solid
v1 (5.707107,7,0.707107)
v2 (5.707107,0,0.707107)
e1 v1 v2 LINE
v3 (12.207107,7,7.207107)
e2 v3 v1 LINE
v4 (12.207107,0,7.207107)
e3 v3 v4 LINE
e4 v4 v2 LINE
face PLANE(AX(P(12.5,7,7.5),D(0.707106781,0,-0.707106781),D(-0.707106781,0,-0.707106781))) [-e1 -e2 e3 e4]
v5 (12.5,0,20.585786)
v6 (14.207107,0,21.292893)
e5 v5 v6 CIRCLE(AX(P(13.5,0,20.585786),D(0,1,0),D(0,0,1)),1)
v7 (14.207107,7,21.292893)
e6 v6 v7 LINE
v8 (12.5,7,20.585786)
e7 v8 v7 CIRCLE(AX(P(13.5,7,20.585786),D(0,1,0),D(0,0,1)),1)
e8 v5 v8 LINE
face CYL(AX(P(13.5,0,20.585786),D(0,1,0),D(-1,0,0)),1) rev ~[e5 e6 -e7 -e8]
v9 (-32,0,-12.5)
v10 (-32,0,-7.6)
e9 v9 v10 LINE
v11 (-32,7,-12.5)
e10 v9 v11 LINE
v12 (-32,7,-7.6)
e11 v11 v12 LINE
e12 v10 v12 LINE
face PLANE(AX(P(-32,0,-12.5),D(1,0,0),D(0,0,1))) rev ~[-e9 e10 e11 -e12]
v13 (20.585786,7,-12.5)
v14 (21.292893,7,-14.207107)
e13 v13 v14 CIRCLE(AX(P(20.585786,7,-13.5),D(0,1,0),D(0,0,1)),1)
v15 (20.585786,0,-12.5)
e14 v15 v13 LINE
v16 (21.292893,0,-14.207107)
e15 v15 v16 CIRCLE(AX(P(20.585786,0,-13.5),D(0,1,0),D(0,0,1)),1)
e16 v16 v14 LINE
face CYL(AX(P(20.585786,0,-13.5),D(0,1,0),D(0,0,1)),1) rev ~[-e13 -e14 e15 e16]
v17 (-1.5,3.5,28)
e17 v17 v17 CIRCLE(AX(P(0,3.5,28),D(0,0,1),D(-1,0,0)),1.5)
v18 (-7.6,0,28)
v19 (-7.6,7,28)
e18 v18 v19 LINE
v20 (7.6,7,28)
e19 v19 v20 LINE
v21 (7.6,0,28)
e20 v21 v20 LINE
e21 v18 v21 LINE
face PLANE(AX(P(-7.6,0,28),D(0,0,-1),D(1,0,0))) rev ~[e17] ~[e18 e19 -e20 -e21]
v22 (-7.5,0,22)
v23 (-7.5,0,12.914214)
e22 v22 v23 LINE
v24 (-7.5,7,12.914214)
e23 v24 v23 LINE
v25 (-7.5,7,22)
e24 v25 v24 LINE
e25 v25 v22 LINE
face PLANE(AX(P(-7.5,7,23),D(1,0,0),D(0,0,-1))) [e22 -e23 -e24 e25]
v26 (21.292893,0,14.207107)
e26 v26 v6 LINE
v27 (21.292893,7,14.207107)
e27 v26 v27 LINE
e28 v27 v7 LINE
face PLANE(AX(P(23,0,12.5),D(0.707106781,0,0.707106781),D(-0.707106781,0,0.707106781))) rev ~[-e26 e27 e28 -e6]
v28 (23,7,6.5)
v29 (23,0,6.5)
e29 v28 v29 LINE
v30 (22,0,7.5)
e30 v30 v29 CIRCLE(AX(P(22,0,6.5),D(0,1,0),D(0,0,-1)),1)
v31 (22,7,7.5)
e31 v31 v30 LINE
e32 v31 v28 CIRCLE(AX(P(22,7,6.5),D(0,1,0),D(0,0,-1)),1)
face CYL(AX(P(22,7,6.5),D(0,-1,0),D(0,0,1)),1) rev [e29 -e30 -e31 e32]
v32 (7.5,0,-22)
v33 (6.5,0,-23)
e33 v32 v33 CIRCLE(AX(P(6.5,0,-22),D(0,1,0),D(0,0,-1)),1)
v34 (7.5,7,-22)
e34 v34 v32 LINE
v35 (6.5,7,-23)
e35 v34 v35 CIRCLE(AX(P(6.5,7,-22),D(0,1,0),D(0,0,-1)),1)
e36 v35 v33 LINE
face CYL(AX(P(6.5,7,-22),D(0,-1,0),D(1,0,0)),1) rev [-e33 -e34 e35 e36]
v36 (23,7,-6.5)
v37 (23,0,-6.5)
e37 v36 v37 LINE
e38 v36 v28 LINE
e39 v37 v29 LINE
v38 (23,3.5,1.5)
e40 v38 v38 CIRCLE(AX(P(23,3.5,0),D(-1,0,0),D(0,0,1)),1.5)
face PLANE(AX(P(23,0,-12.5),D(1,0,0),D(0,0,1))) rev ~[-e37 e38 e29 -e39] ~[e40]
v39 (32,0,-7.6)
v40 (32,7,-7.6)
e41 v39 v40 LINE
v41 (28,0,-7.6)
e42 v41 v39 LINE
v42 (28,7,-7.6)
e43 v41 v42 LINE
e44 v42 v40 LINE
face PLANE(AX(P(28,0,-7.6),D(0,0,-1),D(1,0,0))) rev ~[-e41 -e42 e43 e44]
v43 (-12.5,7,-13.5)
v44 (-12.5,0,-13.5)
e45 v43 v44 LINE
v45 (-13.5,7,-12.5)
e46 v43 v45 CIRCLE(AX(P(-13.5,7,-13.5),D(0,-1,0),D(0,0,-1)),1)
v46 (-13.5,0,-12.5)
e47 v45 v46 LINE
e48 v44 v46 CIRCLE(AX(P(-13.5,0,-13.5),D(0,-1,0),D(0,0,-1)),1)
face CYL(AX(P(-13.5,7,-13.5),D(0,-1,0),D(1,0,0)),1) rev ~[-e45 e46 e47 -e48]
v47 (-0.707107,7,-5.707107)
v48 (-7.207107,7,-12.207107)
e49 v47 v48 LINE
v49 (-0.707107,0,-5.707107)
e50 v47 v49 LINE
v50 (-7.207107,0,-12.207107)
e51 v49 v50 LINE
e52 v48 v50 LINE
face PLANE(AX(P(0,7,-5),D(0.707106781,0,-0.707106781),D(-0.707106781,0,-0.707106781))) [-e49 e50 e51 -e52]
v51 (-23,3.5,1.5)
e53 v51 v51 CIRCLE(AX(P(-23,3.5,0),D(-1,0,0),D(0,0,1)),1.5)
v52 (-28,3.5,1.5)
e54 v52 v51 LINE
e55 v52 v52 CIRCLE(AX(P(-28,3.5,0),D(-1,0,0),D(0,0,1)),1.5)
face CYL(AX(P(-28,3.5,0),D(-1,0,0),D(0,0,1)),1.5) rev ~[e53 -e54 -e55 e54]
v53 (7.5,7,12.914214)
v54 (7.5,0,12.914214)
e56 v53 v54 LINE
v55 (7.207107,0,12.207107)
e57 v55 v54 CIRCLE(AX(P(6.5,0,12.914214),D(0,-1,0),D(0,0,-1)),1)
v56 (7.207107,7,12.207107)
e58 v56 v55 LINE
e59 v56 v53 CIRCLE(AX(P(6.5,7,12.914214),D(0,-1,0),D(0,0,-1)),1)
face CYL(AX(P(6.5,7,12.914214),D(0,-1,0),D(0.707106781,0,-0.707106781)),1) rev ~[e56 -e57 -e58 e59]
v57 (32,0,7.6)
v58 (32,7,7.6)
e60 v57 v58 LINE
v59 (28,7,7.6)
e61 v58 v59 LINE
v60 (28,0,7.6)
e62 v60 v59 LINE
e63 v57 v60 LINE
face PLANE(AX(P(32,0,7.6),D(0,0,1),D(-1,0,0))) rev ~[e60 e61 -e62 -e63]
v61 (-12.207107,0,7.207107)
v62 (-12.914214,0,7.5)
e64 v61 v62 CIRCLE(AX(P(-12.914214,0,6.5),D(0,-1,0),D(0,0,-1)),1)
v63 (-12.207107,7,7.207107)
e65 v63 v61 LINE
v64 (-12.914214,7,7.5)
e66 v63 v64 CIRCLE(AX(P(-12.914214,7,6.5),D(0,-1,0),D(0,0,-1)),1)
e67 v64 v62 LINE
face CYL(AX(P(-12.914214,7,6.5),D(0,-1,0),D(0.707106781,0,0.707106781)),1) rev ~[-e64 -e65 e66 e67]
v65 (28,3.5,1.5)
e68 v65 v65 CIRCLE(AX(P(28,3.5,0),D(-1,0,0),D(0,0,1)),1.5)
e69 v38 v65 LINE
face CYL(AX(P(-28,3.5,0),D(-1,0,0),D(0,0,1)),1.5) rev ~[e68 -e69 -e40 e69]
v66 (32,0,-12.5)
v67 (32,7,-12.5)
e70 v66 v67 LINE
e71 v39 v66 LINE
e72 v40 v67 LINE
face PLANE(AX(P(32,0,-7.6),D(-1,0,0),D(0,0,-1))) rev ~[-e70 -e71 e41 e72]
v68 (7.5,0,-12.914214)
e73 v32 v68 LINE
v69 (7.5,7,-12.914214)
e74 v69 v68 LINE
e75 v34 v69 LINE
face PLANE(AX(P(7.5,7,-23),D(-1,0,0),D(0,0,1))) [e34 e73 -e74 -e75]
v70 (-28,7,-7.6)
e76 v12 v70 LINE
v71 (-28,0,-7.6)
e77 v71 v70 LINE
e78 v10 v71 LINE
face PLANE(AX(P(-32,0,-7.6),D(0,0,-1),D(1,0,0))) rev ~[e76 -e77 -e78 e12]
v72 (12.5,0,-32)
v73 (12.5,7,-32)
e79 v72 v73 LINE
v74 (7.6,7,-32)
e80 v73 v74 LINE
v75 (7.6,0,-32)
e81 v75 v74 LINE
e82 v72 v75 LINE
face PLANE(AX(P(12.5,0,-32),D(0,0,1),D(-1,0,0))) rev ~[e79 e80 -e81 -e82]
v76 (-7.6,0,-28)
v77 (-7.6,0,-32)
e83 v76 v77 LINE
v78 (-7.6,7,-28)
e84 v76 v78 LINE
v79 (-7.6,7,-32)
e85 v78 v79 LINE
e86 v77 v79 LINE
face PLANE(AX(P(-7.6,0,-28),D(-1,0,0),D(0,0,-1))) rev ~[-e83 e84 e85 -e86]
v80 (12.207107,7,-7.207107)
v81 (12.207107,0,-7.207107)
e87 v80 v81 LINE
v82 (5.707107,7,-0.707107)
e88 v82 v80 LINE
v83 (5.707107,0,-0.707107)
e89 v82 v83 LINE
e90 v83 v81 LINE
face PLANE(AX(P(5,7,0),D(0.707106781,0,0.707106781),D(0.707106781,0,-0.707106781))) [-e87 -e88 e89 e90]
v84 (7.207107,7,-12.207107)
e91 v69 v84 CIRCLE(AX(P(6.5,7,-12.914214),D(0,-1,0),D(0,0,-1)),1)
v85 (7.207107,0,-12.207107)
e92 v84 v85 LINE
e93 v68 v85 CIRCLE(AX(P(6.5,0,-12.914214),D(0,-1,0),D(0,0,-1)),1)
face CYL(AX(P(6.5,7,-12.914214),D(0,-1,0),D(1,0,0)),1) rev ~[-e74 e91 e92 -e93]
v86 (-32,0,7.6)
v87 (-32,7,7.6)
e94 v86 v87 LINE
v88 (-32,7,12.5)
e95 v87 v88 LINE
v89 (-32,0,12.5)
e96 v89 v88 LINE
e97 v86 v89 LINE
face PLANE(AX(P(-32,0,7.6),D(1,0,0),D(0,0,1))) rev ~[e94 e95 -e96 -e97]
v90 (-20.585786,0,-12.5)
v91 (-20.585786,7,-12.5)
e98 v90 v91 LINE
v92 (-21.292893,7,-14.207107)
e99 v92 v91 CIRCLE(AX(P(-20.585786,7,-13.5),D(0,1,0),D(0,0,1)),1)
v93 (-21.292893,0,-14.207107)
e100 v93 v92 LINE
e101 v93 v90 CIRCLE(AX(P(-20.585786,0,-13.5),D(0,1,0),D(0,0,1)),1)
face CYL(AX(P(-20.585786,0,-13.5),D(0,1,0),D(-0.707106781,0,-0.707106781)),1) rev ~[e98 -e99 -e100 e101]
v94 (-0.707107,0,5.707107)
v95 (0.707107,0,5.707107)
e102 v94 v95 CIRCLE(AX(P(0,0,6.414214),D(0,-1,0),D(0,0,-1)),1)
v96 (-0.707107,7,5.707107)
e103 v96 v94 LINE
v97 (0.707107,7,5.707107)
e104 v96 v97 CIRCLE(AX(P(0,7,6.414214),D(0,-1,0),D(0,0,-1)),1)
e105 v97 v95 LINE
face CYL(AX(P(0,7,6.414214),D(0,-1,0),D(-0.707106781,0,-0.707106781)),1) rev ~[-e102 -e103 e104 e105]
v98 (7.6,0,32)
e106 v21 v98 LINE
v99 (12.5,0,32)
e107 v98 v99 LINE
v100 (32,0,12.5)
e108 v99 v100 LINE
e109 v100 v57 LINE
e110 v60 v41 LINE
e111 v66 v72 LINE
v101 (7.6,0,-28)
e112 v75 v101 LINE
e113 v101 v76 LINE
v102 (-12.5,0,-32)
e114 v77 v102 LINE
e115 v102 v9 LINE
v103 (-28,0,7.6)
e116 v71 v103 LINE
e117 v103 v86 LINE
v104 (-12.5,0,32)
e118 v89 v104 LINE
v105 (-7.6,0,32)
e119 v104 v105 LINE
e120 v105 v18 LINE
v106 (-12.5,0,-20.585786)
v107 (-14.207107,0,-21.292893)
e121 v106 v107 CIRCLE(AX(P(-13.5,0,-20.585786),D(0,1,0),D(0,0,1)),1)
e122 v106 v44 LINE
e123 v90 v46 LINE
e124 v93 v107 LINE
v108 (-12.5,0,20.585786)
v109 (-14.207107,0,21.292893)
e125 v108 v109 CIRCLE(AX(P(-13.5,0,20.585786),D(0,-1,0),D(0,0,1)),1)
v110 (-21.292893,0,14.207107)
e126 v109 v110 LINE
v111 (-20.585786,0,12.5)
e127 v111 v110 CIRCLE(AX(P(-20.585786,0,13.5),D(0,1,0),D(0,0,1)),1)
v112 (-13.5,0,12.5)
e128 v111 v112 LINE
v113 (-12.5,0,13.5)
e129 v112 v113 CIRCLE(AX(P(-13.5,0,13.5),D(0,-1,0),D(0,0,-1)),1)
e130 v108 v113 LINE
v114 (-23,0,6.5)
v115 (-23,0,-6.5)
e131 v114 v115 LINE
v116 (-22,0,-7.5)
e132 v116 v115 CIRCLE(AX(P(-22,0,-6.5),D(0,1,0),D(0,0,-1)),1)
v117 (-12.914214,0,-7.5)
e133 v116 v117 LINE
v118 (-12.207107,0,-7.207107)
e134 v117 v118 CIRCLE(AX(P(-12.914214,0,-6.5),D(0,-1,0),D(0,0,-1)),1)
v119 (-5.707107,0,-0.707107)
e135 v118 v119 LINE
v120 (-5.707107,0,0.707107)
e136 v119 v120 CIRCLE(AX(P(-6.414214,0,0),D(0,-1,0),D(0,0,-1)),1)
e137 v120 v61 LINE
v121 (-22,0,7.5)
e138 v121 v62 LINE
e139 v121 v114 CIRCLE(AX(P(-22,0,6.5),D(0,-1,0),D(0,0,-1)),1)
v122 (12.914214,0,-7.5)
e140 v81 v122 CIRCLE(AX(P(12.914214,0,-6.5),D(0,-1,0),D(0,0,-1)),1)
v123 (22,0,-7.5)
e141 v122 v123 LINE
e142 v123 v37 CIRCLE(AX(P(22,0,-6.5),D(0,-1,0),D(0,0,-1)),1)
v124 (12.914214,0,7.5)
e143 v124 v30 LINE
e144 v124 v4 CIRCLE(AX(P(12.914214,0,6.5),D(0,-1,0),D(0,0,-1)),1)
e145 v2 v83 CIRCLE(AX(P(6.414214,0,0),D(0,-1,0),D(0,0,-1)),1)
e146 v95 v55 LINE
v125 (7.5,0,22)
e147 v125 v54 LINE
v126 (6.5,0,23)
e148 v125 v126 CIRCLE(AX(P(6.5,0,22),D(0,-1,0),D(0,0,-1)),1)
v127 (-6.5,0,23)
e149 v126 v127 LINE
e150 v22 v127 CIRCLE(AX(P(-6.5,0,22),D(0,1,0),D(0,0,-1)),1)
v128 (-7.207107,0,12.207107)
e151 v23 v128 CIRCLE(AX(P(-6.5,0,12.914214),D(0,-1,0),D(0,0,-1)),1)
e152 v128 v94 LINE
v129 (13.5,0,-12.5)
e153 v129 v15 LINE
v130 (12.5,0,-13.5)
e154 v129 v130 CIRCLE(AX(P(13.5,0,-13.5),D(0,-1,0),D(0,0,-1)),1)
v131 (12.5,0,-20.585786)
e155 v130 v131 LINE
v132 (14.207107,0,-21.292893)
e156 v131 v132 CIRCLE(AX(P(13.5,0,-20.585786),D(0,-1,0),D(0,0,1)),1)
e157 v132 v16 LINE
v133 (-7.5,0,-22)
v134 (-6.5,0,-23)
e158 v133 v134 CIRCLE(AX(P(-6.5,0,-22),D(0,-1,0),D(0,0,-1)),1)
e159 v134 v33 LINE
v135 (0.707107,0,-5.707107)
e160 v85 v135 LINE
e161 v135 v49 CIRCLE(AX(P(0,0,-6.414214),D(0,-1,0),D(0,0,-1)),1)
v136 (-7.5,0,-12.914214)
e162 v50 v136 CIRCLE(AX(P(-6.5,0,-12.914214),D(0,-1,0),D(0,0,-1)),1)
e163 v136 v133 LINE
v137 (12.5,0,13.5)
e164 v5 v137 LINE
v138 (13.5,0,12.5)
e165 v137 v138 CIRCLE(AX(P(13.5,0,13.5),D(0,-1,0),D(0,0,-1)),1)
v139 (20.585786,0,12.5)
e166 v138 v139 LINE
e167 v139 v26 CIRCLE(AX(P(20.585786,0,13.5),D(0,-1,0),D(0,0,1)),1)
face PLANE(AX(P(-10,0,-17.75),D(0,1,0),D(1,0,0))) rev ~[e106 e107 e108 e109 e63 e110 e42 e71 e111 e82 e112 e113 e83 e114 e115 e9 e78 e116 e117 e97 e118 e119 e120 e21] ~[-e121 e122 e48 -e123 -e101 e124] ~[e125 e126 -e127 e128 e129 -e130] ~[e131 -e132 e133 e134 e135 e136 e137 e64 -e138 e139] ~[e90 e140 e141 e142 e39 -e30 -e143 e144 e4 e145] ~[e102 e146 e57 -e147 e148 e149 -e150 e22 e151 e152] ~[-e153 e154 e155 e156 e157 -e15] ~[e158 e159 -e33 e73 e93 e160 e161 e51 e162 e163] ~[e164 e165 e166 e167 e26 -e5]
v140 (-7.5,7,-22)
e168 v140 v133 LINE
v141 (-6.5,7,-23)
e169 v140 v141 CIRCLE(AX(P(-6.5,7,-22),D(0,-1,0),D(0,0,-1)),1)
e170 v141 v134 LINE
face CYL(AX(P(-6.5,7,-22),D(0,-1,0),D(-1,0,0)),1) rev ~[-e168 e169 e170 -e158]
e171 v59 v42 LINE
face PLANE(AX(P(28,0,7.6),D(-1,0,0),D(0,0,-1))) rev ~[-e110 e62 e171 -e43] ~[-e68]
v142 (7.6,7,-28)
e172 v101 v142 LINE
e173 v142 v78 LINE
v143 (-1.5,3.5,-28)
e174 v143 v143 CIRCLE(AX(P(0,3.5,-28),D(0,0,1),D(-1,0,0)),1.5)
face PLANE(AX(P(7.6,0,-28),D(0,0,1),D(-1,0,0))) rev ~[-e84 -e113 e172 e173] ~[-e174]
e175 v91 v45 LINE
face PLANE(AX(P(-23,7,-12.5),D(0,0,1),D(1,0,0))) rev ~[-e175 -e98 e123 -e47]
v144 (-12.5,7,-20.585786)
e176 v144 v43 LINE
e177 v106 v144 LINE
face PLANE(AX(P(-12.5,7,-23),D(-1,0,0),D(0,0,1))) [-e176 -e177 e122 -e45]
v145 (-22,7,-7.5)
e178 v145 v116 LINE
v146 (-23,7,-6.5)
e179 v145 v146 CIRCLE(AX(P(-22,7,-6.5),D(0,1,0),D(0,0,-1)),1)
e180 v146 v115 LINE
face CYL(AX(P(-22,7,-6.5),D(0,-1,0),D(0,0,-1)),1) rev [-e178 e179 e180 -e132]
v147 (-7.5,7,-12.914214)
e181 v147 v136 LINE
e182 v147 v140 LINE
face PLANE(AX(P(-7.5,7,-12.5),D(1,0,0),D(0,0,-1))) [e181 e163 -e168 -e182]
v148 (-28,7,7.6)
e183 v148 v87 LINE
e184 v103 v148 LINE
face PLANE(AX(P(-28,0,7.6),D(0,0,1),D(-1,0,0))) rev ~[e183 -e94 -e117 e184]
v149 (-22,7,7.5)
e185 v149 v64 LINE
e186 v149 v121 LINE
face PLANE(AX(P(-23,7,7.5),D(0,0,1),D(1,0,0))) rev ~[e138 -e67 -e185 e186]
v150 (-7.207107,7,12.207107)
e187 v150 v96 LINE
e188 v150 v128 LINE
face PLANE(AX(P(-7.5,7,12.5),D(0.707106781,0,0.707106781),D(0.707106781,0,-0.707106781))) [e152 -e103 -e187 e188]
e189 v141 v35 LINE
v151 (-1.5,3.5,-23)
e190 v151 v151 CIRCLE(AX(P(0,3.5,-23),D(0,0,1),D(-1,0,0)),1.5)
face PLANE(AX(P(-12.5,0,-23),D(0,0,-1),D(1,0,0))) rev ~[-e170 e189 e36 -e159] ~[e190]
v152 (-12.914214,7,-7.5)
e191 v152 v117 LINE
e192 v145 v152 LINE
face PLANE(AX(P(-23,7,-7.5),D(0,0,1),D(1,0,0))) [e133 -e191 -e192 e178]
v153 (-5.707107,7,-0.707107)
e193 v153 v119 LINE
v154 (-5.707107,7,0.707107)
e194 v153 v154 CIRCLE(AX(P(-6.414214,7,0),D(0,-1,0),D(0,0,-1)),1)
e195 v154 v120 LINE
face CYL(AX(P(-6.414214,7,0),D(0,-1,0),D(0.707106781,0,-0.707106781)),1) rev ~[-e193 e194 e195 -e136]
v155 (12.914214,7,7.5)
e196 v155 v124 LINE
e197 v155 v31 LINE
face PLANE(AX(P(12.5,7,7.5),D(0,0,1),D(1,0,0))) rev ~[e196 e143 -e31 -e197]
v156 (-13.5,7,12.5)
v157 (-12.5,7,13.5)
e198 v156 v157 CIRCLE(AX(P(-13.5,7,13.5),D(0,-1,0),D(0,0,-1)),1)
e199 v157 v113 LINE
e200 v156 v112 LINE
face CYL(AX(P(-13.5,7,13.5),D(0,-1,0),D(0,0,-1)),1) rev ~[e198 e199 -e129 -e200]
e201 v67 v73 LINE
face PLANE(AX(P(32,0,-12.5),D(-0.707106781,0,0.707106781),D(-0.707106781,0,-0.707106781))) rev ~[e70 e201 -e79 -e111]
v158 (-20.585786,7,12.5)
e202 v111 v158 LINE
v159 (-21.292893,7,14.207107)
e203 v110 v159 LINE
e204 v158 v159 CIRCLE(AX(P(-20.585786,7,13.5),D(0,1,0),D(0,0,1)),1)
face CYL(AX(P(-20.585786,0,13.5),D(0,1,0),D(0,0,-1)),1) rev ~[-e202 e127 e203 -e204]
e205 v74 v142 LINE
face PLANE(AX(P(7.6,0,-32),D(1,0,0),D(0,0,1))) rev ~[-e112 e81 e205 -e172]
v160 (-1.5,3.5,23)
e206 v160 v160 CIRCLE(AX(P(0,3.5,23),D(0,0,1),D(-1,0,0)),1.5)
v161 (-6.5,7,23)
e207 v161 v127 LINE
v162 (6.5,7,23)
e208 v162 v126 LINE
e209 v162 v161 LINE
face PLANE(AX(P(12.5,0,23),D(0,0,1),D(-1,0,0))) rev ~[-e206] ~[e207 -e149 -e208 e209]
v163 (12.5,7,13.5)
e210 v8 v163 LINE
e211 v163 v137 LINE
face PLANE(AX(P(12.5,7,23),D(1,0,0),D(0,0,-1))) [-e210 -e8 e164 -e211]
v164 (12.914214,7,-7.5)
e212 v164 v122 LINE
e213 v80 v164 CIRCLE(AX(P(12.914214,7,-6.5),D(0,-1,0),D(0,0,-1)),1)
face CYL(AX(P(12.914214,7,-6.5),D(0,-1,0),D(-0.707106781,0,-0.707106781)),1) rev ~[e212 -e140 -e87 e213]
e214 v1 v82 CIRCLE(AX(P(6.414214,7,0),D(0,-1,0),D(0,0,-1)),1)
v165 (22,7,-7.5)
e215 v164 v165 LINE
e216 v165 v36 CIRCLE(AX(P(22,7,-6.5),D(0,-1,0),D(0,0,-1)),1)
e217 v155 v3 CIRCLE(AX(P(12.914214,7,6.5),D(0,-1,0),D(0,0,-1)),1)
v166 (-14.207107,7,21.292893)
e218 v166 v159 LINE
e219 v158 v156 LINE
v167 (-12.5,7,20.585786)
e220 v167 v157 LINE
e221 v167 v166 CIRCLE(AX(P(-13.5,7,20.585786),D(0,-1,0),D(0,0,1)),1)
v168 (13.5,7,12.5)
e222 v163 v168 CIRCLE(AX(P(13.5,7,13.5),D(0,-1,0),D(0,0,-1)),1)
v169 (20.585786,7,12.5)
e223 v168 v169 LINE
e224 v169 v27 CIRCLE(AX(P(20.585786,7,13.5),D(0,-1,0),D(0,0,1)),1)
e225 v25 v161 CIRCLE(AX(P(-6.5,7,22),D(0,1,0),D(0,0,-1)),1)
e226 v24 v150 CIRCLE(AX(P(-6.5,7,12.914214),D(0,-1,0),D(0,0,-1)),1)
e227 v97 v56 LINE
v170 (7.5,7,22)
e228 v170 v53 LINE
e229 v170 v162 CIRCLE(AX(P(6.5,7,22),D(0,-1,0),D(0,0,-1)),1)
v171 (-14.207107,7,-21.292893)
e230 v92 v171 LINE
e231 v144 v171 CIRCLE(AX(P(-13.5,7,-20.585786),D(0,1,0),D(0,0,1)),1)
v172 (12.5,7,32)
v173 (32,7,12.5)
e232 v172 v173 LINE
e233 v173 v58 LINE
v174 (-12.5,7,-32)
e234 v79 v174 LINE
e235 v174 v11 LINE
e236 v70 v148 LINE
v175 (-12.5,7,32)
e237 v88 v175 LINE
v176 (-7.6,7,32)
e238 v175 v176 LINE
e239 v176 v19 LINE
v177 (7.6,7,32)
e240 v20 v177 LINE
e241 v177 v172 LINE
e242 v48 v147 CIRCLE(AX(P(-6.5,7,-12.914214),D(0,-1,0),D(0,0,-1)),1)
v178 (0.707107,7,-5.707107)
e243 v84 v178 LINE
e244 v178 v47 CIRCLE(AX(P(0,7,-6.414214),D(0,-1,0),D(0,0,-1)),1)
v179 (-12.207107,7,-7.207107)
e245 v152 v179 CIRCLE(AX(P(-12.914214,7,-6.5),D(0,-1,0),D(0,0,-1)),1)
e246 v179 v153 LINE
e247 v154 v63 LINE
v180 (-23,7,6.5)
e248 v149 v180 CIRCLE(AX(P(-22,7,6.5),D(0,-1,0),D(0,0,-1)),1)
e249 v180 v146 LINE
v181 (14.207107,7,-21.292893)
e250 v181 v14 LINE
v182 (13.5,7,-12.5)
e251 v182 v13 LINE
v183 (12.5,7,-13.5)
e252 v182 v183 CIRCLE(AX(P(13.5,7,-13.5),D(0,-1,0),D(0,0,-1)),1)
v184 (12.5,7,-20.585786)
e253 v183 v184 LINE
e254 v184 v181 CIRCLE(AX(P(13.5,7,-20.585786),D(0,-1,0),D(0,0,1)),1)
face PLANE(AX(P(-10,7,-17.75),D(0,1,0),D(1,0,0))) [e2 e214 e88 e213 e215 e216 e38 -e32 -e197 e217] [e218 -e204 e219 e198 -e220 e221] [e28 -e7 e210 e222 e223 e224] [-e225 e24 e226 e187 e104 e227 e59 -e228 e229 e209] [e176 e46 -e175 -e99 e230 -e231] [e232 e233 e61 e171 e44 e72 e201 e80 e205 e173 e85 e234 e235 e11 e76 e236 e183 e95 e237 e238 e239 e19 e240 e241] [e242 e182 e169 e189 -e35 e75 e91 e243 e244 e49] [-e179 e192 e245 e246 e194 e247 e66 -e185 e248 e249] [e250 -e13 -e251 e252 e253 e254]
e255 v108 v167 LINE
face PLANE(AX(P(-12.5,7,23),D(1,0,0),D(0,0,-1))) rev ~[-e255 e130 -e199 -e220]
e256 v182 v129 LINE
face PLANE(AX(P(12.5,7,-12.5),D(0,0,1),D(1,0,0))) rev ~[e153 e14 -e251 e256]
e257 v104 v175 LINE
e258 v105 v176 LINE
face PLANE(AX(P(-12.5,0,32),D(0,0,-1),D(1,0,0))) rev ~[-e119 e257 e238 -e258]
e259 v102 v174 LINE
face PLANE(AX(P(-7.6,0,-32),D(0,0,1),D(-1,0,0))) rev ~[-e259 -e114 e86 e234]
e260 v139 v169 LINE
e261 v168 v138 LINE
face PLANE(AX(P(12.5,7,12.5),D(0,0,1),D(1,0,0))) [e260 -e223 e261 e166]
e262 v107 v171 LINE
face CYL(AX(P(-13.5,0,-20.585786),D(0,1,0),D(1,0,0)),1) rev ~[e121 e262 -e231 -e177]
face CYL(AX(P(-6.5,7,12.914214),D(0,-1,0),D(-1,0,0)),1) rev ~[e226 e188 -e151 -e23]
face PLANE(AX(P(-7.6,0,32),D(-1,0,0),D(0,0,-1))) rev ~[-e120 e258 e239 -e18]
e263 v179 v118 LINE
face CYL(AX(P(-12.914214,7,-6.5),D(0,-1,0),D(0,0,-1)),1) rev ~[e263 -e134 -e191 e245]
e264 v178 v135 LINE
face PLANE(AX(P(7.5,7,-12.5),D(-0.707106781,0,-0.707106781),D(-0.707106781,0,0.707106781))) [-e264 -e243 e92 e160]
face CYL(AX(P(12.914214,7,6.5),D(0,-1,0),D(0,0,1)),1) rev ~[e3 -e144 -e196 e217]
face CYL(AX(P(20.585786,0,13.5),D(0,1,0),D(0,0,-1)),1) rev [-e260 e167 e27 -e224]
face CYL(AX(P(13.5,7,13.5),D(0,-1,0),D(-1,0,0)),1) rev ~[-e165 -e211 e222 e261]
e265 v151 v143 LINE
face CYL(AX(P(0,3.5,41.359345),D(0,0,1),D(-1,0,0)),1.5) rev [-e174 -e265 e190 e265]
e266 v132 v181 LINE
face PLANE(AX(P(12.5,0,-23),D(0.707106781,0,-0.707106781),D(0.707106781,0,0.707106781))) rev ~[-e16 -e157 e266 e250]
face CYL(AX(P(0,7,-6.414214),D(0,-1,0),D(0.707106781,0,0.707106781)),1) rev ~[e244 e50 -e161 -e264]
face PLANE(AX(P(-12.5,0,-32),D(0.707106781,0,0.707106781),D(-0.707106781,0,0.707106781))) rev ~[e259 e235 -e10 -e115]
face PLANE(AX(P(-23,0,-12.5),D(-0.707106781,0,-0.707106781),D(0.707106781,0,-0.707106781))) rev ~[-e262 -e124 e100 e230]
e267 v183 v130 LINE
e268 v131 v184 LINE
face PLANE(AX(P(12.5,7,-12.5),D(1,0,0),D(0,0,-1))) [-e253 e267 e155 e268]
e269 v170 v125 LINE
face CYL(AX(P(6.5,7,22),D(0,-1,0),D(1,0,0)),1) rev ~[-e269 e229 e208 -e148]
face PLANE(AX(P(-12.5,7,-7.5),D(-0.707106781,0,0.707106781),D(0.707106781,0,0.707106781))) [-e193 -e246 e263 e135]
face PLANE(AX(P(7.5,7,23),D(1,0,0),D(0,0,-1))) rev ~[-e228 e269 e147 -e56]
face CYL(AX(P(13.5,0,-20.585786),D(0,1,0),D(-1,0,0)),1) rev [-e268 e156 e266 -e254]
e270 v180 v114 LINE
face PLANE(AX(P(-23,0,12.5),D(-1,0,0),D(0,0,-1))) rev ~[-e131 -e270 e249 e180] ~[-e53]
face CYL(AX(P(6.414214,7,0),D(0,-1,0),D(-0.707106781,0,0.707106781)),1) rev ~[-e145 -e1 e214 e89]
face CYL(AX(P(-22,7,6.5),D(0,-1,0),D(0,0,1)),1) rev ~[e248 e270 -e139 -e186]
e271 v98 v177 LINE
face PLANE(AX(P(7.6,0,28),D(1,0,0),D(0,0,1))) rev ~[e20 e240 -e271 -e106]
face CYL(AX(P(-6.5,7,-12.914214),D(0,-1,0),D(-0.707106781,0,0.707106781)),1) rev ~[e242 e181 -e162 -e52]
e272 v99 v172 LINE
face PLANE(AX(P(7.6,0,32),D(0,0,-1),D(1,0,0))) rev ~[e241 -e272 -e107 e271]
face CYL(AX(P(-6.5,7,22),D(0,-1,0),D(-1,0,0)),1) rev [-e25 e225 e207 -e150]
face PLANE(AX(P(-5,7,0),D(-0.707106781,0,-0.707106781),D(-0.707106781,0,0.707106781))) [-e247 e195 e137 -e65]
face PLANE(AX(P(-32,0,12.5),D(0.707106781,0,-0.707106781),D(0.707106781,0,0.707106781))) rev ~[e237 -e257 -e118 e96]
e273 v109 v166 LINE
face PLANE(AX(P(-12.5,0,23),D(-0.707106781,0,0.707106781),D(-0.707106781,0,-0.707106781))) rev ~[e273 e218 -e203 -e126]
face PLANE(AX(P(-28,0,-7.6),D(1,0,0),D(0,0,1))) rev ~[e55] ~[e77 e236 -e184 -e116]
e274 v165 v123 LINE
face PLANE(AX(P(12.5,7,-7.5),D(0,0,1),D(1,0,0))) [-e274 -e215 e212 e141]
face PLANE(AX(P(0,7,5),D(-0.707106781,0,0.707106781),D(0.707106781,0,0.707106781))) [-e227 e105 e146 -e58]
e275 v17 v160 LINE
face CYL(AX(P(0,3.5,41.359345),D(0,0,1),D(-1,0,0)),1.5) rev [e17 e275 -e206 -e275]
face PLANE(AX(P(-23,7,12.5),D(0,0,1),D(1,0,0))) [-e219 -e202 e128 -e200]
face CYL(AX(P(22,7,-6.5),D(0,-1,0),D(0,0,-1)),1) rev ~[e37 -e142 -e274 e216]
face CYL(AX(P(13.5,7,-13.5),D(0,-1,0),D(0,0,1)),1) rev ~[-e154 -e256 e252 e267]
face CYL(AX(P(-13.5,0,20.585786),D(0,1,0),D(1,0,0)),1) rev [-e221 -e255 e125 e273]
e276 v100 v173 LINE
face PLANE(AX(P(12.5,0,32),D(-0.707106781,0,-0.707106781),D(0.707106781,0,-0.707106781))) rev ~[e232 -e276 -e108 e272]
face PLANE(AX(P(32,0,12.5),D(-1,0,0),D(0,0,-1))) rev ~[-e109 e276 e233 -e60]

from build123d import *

# Parameters (mm, degrees)
EXTRUDE_1_DEPTH          = 7
CUT_EXTRUDE_1_DEPTH      = 69.359344643
CUT_EXTRUDE_1_DEPTH_BACK = 69.359344643
SKETCH_2_R               = 1.5
SKETCH_3_R               = 1.5
CUT_EXTRUDE_2_DEPTH      = 69.359344643
SKETCH_4_W               = 5
SKETCH_4_H               = 10.5
SKETCH_4_W_2             = 10.5
SKETCH_4_H_2             = 5
EXTRUDE_2_DEPTH          = 7
FILLET_1_R               = 1


with BuildPart() as part:
    # 草图1 → 凸台-拉伸1 (new body)
    with BuildSketch(Plane(origin=(0, 0, 0), x_dir=(1, 0, 0), z_dir=(0, 1, 0))):
        Polygon((-7.6, 28), (-7.6, 32), (-12.5, 32), (-32, 12.5), (-32, 7.6), (-28, 7.6), (-28, -7.6), (-32, -7.6), (-32, -12.5), (-12.5, -32), (-7.6, -32), (-7.6, -28), (7.6, -28), (7.6, -32), (12.5, -32), (32, -12.5), (32, -7.6), (28, -7.6), (28, 7.6), (32, 7.6), (32, 12.5), (12.5, 32), (7.6, 32), (7.6, 28), align=None)
        Polygon((-12.5, 23), (0, 23), (12.5, 23), (23, 12.5), (23, 0), (23, -12.5), (12.5, -23), (0, -23), (-12.5, -23), (-23, -12.5), (-23, 0), (-23, 12.5), align=None, mode=Mode.SUBTRACT)
    extrude(amount=EXTRUDE_1_DEPTH)

    # 草图2 → 切除-拉伸1 (cut, two sides: drawn at the far end of the back side and taken through both)
    with BuildSketch(Plane(origin=(0, 0, -28), x_dir=(-1, 0, 0), z_dir=(0, 0, -1)).offset(-CUT_EXTRUDE_1_DEPTH_BACK)):
        with Locations((0, 3.5)):
            Circle(SKETCH_2_R)
    extrude(amount=CUT_EXTRUDE_1_DEPTH + CUT_EXTRUDE_1_DEPTH_BACK, mode=Mode.SUBTRACT)

    # 草图3 → 切除-拉伸2 (cut, through all)
    with BuildSketch(Plane.ZY.offset(28)):
        with Locations((0, 3.5)):
            Circle(SKETCH_3_R)
    extrude(amount=-CUT_EXTRUDE_2_DEPTH, mode=Mode.SUBTRACT)

    # 草图4 → 凸台-拉伸2 (add)
    with BuildSketch(Plane(origin=(0, 7, 0), x_dir=(1, 0, 0), z_dir=(0, 1, 0))):
        with Locations((-10, 17.75)):
            Rectangle(SKETCH_4_W, SKETCH_4_H)
        Polygon((-12.5, 12.5), (-12.5, 7.5), (-7.5, 12.5), align=None)
        with Locations((-17.75, 10)):
            Rectangle(SKETCH_4_W_2, SKETCH_4_H_2)
        Polygon((-7.5, 12.5), (-12.5, 7.5), (-7.5, 7.5), align=None)
        Polygon((-7.5, 12.5), (-7.5, 7.5), (-2.5, 7.5), align=None)
        Polygon((-2.5, 7.5), (-7.5, 7.5), (-7.5, 2.5), (-5, 0), (0, 5), align=None)
        Polygon((-7.5, 7.5), (-12.5, 7.5), (-7.5, 2.5), align=None)
        Polygon((0, 5), (-5, 0), (0, -5), (5, 0), align=None)
        Polygon((5, 0), (0, -5), (2.5, -7.5), (7.5, -7.5), (7.5, -2.5), align=None)
        Polygon((7.5, -2.5), (7.5, -7.5), (12.5, -7.5), align=None)
        Polygon((7.5, -7.5), (7.5, -12.5), (12.5, -7.5), align=None)
        Polygon((2.5, -7.5), (7.5, -12.5), (7.5, -7.5), align=None)
        Polygon((12.5, -7.5), (7.5, -12.5), (12.5, -12.5), align=None)
        with Locations((17.75, -10)):
            Rectangle(SKETCH_4_W_2, SKETCH_4_H_2)
        with Locations((10, -17.75)):
            Rectangle(SKETCH_4_W, SKETCH_4_H)
        Polygon((12.5, 12.5), (7.5, 12.5), (12.5, 7.5), align=None)
        with Locations((10, 17.75)):
            Rectangle(SKETCH_4_W, SKETCH_4_H)
        with Locations((17.75, 10)):
            Rectangle(SKETCH_4_W_2, SKETCH_4_H_2)
        Polygon((12.5, 7.5), (7.5, 12.5), (7.5, 7.5), align=None)
        Polygon((12.5, 7.5), (7.5, 7.5), (7.5, 2.5), align=None)
        Polygon((7.5, 7.5), (7.5, 12.5), (2.5, 7.5), align=None)
        Polygon((7.5, 7.5), (2.5, 7.5), (0, 5), (5, 0), (7.5, 2.5), align=None)
        Polygon((-7.5, -2.5), (-7.5, -7.5), (-2.5, -7.5), (0, -5), (-5, 0), align=None)
        Polygon((-7.5, -2.5), (-12.5, -7.5), (-7.5, -7.5), align=None)
        Polygon((-2.5, -7.5), (-7.5, -7.5), (-7.5, -12.5), align=None)
        Polygon((-7.5, -7.5), (-12.5, -7.5), (-7.5, -12.5), align=None)
        Polygon((-7.5, -12.5), (-12.5, -7.5), (-12.5, -12.5), align=None)
        with Locations((-17.75, -10)):
            Rectangle(SKETCH_4_W_2, SKETCH_4_H_2)
        with Locations((-10, -17.75)):
            Rectangle(SKETCH_4_W, SKETCH_4_H)
    extrude(amount=-EXTRUDE_2_DEPTH)

    # 圆角1
    fillet_1_edges = [part.edges().sort_by_distance(p)[0] for p in [
        (7.5, 3.5, 12.5),
        (0, 3.5, 5),
        (-7.5, 3.5, 12.5),
        (-7.5, 3.5, 23),
        (-12.5, 3.5, 12.5),
        (-23, 3.5, 7.5),
        (-12.5, 3.5, 7.5),
        (-5, 3.5, 0),
        (-12.5, 3.5, -7.5),
        (-23, 3.5, -7.5),
        (-12.5, 3.5, -12.5),
        (-7.5, 3.5, -23),
        (-7.5, 3.5, -12.5),
        (0, 3.5, -5),
        (7.5, 3.5, -12.5),
        (7.5, 3.5, -23),
        (12.5, 3.5, -12.5),
        (23, 3.5, -7.5),
        (12.5, 3.5, -7.5),
        (5, 3.5, 0),
        (12.5, 3.5, 7.5),
        (23, 3.5, 7.5),
        (12.5, 3.5, 12.5),
        (7.5, 3.5, 23),
        (12.5, 3.5, 23),
        (23, 3.5, 12.5),
        (23, 3.5, -12.5),
        (12.5, 3.5, -23),
        (-12.5, 3.5, -23),
        (-23, 3.5, -12.5),
        (-23, 3.5, 12.5),
        (-12.5, 3.5, 23),
    ]]
    fillet(fillet_1_edges, radius=FILLET_1_R)


solid = part.part
